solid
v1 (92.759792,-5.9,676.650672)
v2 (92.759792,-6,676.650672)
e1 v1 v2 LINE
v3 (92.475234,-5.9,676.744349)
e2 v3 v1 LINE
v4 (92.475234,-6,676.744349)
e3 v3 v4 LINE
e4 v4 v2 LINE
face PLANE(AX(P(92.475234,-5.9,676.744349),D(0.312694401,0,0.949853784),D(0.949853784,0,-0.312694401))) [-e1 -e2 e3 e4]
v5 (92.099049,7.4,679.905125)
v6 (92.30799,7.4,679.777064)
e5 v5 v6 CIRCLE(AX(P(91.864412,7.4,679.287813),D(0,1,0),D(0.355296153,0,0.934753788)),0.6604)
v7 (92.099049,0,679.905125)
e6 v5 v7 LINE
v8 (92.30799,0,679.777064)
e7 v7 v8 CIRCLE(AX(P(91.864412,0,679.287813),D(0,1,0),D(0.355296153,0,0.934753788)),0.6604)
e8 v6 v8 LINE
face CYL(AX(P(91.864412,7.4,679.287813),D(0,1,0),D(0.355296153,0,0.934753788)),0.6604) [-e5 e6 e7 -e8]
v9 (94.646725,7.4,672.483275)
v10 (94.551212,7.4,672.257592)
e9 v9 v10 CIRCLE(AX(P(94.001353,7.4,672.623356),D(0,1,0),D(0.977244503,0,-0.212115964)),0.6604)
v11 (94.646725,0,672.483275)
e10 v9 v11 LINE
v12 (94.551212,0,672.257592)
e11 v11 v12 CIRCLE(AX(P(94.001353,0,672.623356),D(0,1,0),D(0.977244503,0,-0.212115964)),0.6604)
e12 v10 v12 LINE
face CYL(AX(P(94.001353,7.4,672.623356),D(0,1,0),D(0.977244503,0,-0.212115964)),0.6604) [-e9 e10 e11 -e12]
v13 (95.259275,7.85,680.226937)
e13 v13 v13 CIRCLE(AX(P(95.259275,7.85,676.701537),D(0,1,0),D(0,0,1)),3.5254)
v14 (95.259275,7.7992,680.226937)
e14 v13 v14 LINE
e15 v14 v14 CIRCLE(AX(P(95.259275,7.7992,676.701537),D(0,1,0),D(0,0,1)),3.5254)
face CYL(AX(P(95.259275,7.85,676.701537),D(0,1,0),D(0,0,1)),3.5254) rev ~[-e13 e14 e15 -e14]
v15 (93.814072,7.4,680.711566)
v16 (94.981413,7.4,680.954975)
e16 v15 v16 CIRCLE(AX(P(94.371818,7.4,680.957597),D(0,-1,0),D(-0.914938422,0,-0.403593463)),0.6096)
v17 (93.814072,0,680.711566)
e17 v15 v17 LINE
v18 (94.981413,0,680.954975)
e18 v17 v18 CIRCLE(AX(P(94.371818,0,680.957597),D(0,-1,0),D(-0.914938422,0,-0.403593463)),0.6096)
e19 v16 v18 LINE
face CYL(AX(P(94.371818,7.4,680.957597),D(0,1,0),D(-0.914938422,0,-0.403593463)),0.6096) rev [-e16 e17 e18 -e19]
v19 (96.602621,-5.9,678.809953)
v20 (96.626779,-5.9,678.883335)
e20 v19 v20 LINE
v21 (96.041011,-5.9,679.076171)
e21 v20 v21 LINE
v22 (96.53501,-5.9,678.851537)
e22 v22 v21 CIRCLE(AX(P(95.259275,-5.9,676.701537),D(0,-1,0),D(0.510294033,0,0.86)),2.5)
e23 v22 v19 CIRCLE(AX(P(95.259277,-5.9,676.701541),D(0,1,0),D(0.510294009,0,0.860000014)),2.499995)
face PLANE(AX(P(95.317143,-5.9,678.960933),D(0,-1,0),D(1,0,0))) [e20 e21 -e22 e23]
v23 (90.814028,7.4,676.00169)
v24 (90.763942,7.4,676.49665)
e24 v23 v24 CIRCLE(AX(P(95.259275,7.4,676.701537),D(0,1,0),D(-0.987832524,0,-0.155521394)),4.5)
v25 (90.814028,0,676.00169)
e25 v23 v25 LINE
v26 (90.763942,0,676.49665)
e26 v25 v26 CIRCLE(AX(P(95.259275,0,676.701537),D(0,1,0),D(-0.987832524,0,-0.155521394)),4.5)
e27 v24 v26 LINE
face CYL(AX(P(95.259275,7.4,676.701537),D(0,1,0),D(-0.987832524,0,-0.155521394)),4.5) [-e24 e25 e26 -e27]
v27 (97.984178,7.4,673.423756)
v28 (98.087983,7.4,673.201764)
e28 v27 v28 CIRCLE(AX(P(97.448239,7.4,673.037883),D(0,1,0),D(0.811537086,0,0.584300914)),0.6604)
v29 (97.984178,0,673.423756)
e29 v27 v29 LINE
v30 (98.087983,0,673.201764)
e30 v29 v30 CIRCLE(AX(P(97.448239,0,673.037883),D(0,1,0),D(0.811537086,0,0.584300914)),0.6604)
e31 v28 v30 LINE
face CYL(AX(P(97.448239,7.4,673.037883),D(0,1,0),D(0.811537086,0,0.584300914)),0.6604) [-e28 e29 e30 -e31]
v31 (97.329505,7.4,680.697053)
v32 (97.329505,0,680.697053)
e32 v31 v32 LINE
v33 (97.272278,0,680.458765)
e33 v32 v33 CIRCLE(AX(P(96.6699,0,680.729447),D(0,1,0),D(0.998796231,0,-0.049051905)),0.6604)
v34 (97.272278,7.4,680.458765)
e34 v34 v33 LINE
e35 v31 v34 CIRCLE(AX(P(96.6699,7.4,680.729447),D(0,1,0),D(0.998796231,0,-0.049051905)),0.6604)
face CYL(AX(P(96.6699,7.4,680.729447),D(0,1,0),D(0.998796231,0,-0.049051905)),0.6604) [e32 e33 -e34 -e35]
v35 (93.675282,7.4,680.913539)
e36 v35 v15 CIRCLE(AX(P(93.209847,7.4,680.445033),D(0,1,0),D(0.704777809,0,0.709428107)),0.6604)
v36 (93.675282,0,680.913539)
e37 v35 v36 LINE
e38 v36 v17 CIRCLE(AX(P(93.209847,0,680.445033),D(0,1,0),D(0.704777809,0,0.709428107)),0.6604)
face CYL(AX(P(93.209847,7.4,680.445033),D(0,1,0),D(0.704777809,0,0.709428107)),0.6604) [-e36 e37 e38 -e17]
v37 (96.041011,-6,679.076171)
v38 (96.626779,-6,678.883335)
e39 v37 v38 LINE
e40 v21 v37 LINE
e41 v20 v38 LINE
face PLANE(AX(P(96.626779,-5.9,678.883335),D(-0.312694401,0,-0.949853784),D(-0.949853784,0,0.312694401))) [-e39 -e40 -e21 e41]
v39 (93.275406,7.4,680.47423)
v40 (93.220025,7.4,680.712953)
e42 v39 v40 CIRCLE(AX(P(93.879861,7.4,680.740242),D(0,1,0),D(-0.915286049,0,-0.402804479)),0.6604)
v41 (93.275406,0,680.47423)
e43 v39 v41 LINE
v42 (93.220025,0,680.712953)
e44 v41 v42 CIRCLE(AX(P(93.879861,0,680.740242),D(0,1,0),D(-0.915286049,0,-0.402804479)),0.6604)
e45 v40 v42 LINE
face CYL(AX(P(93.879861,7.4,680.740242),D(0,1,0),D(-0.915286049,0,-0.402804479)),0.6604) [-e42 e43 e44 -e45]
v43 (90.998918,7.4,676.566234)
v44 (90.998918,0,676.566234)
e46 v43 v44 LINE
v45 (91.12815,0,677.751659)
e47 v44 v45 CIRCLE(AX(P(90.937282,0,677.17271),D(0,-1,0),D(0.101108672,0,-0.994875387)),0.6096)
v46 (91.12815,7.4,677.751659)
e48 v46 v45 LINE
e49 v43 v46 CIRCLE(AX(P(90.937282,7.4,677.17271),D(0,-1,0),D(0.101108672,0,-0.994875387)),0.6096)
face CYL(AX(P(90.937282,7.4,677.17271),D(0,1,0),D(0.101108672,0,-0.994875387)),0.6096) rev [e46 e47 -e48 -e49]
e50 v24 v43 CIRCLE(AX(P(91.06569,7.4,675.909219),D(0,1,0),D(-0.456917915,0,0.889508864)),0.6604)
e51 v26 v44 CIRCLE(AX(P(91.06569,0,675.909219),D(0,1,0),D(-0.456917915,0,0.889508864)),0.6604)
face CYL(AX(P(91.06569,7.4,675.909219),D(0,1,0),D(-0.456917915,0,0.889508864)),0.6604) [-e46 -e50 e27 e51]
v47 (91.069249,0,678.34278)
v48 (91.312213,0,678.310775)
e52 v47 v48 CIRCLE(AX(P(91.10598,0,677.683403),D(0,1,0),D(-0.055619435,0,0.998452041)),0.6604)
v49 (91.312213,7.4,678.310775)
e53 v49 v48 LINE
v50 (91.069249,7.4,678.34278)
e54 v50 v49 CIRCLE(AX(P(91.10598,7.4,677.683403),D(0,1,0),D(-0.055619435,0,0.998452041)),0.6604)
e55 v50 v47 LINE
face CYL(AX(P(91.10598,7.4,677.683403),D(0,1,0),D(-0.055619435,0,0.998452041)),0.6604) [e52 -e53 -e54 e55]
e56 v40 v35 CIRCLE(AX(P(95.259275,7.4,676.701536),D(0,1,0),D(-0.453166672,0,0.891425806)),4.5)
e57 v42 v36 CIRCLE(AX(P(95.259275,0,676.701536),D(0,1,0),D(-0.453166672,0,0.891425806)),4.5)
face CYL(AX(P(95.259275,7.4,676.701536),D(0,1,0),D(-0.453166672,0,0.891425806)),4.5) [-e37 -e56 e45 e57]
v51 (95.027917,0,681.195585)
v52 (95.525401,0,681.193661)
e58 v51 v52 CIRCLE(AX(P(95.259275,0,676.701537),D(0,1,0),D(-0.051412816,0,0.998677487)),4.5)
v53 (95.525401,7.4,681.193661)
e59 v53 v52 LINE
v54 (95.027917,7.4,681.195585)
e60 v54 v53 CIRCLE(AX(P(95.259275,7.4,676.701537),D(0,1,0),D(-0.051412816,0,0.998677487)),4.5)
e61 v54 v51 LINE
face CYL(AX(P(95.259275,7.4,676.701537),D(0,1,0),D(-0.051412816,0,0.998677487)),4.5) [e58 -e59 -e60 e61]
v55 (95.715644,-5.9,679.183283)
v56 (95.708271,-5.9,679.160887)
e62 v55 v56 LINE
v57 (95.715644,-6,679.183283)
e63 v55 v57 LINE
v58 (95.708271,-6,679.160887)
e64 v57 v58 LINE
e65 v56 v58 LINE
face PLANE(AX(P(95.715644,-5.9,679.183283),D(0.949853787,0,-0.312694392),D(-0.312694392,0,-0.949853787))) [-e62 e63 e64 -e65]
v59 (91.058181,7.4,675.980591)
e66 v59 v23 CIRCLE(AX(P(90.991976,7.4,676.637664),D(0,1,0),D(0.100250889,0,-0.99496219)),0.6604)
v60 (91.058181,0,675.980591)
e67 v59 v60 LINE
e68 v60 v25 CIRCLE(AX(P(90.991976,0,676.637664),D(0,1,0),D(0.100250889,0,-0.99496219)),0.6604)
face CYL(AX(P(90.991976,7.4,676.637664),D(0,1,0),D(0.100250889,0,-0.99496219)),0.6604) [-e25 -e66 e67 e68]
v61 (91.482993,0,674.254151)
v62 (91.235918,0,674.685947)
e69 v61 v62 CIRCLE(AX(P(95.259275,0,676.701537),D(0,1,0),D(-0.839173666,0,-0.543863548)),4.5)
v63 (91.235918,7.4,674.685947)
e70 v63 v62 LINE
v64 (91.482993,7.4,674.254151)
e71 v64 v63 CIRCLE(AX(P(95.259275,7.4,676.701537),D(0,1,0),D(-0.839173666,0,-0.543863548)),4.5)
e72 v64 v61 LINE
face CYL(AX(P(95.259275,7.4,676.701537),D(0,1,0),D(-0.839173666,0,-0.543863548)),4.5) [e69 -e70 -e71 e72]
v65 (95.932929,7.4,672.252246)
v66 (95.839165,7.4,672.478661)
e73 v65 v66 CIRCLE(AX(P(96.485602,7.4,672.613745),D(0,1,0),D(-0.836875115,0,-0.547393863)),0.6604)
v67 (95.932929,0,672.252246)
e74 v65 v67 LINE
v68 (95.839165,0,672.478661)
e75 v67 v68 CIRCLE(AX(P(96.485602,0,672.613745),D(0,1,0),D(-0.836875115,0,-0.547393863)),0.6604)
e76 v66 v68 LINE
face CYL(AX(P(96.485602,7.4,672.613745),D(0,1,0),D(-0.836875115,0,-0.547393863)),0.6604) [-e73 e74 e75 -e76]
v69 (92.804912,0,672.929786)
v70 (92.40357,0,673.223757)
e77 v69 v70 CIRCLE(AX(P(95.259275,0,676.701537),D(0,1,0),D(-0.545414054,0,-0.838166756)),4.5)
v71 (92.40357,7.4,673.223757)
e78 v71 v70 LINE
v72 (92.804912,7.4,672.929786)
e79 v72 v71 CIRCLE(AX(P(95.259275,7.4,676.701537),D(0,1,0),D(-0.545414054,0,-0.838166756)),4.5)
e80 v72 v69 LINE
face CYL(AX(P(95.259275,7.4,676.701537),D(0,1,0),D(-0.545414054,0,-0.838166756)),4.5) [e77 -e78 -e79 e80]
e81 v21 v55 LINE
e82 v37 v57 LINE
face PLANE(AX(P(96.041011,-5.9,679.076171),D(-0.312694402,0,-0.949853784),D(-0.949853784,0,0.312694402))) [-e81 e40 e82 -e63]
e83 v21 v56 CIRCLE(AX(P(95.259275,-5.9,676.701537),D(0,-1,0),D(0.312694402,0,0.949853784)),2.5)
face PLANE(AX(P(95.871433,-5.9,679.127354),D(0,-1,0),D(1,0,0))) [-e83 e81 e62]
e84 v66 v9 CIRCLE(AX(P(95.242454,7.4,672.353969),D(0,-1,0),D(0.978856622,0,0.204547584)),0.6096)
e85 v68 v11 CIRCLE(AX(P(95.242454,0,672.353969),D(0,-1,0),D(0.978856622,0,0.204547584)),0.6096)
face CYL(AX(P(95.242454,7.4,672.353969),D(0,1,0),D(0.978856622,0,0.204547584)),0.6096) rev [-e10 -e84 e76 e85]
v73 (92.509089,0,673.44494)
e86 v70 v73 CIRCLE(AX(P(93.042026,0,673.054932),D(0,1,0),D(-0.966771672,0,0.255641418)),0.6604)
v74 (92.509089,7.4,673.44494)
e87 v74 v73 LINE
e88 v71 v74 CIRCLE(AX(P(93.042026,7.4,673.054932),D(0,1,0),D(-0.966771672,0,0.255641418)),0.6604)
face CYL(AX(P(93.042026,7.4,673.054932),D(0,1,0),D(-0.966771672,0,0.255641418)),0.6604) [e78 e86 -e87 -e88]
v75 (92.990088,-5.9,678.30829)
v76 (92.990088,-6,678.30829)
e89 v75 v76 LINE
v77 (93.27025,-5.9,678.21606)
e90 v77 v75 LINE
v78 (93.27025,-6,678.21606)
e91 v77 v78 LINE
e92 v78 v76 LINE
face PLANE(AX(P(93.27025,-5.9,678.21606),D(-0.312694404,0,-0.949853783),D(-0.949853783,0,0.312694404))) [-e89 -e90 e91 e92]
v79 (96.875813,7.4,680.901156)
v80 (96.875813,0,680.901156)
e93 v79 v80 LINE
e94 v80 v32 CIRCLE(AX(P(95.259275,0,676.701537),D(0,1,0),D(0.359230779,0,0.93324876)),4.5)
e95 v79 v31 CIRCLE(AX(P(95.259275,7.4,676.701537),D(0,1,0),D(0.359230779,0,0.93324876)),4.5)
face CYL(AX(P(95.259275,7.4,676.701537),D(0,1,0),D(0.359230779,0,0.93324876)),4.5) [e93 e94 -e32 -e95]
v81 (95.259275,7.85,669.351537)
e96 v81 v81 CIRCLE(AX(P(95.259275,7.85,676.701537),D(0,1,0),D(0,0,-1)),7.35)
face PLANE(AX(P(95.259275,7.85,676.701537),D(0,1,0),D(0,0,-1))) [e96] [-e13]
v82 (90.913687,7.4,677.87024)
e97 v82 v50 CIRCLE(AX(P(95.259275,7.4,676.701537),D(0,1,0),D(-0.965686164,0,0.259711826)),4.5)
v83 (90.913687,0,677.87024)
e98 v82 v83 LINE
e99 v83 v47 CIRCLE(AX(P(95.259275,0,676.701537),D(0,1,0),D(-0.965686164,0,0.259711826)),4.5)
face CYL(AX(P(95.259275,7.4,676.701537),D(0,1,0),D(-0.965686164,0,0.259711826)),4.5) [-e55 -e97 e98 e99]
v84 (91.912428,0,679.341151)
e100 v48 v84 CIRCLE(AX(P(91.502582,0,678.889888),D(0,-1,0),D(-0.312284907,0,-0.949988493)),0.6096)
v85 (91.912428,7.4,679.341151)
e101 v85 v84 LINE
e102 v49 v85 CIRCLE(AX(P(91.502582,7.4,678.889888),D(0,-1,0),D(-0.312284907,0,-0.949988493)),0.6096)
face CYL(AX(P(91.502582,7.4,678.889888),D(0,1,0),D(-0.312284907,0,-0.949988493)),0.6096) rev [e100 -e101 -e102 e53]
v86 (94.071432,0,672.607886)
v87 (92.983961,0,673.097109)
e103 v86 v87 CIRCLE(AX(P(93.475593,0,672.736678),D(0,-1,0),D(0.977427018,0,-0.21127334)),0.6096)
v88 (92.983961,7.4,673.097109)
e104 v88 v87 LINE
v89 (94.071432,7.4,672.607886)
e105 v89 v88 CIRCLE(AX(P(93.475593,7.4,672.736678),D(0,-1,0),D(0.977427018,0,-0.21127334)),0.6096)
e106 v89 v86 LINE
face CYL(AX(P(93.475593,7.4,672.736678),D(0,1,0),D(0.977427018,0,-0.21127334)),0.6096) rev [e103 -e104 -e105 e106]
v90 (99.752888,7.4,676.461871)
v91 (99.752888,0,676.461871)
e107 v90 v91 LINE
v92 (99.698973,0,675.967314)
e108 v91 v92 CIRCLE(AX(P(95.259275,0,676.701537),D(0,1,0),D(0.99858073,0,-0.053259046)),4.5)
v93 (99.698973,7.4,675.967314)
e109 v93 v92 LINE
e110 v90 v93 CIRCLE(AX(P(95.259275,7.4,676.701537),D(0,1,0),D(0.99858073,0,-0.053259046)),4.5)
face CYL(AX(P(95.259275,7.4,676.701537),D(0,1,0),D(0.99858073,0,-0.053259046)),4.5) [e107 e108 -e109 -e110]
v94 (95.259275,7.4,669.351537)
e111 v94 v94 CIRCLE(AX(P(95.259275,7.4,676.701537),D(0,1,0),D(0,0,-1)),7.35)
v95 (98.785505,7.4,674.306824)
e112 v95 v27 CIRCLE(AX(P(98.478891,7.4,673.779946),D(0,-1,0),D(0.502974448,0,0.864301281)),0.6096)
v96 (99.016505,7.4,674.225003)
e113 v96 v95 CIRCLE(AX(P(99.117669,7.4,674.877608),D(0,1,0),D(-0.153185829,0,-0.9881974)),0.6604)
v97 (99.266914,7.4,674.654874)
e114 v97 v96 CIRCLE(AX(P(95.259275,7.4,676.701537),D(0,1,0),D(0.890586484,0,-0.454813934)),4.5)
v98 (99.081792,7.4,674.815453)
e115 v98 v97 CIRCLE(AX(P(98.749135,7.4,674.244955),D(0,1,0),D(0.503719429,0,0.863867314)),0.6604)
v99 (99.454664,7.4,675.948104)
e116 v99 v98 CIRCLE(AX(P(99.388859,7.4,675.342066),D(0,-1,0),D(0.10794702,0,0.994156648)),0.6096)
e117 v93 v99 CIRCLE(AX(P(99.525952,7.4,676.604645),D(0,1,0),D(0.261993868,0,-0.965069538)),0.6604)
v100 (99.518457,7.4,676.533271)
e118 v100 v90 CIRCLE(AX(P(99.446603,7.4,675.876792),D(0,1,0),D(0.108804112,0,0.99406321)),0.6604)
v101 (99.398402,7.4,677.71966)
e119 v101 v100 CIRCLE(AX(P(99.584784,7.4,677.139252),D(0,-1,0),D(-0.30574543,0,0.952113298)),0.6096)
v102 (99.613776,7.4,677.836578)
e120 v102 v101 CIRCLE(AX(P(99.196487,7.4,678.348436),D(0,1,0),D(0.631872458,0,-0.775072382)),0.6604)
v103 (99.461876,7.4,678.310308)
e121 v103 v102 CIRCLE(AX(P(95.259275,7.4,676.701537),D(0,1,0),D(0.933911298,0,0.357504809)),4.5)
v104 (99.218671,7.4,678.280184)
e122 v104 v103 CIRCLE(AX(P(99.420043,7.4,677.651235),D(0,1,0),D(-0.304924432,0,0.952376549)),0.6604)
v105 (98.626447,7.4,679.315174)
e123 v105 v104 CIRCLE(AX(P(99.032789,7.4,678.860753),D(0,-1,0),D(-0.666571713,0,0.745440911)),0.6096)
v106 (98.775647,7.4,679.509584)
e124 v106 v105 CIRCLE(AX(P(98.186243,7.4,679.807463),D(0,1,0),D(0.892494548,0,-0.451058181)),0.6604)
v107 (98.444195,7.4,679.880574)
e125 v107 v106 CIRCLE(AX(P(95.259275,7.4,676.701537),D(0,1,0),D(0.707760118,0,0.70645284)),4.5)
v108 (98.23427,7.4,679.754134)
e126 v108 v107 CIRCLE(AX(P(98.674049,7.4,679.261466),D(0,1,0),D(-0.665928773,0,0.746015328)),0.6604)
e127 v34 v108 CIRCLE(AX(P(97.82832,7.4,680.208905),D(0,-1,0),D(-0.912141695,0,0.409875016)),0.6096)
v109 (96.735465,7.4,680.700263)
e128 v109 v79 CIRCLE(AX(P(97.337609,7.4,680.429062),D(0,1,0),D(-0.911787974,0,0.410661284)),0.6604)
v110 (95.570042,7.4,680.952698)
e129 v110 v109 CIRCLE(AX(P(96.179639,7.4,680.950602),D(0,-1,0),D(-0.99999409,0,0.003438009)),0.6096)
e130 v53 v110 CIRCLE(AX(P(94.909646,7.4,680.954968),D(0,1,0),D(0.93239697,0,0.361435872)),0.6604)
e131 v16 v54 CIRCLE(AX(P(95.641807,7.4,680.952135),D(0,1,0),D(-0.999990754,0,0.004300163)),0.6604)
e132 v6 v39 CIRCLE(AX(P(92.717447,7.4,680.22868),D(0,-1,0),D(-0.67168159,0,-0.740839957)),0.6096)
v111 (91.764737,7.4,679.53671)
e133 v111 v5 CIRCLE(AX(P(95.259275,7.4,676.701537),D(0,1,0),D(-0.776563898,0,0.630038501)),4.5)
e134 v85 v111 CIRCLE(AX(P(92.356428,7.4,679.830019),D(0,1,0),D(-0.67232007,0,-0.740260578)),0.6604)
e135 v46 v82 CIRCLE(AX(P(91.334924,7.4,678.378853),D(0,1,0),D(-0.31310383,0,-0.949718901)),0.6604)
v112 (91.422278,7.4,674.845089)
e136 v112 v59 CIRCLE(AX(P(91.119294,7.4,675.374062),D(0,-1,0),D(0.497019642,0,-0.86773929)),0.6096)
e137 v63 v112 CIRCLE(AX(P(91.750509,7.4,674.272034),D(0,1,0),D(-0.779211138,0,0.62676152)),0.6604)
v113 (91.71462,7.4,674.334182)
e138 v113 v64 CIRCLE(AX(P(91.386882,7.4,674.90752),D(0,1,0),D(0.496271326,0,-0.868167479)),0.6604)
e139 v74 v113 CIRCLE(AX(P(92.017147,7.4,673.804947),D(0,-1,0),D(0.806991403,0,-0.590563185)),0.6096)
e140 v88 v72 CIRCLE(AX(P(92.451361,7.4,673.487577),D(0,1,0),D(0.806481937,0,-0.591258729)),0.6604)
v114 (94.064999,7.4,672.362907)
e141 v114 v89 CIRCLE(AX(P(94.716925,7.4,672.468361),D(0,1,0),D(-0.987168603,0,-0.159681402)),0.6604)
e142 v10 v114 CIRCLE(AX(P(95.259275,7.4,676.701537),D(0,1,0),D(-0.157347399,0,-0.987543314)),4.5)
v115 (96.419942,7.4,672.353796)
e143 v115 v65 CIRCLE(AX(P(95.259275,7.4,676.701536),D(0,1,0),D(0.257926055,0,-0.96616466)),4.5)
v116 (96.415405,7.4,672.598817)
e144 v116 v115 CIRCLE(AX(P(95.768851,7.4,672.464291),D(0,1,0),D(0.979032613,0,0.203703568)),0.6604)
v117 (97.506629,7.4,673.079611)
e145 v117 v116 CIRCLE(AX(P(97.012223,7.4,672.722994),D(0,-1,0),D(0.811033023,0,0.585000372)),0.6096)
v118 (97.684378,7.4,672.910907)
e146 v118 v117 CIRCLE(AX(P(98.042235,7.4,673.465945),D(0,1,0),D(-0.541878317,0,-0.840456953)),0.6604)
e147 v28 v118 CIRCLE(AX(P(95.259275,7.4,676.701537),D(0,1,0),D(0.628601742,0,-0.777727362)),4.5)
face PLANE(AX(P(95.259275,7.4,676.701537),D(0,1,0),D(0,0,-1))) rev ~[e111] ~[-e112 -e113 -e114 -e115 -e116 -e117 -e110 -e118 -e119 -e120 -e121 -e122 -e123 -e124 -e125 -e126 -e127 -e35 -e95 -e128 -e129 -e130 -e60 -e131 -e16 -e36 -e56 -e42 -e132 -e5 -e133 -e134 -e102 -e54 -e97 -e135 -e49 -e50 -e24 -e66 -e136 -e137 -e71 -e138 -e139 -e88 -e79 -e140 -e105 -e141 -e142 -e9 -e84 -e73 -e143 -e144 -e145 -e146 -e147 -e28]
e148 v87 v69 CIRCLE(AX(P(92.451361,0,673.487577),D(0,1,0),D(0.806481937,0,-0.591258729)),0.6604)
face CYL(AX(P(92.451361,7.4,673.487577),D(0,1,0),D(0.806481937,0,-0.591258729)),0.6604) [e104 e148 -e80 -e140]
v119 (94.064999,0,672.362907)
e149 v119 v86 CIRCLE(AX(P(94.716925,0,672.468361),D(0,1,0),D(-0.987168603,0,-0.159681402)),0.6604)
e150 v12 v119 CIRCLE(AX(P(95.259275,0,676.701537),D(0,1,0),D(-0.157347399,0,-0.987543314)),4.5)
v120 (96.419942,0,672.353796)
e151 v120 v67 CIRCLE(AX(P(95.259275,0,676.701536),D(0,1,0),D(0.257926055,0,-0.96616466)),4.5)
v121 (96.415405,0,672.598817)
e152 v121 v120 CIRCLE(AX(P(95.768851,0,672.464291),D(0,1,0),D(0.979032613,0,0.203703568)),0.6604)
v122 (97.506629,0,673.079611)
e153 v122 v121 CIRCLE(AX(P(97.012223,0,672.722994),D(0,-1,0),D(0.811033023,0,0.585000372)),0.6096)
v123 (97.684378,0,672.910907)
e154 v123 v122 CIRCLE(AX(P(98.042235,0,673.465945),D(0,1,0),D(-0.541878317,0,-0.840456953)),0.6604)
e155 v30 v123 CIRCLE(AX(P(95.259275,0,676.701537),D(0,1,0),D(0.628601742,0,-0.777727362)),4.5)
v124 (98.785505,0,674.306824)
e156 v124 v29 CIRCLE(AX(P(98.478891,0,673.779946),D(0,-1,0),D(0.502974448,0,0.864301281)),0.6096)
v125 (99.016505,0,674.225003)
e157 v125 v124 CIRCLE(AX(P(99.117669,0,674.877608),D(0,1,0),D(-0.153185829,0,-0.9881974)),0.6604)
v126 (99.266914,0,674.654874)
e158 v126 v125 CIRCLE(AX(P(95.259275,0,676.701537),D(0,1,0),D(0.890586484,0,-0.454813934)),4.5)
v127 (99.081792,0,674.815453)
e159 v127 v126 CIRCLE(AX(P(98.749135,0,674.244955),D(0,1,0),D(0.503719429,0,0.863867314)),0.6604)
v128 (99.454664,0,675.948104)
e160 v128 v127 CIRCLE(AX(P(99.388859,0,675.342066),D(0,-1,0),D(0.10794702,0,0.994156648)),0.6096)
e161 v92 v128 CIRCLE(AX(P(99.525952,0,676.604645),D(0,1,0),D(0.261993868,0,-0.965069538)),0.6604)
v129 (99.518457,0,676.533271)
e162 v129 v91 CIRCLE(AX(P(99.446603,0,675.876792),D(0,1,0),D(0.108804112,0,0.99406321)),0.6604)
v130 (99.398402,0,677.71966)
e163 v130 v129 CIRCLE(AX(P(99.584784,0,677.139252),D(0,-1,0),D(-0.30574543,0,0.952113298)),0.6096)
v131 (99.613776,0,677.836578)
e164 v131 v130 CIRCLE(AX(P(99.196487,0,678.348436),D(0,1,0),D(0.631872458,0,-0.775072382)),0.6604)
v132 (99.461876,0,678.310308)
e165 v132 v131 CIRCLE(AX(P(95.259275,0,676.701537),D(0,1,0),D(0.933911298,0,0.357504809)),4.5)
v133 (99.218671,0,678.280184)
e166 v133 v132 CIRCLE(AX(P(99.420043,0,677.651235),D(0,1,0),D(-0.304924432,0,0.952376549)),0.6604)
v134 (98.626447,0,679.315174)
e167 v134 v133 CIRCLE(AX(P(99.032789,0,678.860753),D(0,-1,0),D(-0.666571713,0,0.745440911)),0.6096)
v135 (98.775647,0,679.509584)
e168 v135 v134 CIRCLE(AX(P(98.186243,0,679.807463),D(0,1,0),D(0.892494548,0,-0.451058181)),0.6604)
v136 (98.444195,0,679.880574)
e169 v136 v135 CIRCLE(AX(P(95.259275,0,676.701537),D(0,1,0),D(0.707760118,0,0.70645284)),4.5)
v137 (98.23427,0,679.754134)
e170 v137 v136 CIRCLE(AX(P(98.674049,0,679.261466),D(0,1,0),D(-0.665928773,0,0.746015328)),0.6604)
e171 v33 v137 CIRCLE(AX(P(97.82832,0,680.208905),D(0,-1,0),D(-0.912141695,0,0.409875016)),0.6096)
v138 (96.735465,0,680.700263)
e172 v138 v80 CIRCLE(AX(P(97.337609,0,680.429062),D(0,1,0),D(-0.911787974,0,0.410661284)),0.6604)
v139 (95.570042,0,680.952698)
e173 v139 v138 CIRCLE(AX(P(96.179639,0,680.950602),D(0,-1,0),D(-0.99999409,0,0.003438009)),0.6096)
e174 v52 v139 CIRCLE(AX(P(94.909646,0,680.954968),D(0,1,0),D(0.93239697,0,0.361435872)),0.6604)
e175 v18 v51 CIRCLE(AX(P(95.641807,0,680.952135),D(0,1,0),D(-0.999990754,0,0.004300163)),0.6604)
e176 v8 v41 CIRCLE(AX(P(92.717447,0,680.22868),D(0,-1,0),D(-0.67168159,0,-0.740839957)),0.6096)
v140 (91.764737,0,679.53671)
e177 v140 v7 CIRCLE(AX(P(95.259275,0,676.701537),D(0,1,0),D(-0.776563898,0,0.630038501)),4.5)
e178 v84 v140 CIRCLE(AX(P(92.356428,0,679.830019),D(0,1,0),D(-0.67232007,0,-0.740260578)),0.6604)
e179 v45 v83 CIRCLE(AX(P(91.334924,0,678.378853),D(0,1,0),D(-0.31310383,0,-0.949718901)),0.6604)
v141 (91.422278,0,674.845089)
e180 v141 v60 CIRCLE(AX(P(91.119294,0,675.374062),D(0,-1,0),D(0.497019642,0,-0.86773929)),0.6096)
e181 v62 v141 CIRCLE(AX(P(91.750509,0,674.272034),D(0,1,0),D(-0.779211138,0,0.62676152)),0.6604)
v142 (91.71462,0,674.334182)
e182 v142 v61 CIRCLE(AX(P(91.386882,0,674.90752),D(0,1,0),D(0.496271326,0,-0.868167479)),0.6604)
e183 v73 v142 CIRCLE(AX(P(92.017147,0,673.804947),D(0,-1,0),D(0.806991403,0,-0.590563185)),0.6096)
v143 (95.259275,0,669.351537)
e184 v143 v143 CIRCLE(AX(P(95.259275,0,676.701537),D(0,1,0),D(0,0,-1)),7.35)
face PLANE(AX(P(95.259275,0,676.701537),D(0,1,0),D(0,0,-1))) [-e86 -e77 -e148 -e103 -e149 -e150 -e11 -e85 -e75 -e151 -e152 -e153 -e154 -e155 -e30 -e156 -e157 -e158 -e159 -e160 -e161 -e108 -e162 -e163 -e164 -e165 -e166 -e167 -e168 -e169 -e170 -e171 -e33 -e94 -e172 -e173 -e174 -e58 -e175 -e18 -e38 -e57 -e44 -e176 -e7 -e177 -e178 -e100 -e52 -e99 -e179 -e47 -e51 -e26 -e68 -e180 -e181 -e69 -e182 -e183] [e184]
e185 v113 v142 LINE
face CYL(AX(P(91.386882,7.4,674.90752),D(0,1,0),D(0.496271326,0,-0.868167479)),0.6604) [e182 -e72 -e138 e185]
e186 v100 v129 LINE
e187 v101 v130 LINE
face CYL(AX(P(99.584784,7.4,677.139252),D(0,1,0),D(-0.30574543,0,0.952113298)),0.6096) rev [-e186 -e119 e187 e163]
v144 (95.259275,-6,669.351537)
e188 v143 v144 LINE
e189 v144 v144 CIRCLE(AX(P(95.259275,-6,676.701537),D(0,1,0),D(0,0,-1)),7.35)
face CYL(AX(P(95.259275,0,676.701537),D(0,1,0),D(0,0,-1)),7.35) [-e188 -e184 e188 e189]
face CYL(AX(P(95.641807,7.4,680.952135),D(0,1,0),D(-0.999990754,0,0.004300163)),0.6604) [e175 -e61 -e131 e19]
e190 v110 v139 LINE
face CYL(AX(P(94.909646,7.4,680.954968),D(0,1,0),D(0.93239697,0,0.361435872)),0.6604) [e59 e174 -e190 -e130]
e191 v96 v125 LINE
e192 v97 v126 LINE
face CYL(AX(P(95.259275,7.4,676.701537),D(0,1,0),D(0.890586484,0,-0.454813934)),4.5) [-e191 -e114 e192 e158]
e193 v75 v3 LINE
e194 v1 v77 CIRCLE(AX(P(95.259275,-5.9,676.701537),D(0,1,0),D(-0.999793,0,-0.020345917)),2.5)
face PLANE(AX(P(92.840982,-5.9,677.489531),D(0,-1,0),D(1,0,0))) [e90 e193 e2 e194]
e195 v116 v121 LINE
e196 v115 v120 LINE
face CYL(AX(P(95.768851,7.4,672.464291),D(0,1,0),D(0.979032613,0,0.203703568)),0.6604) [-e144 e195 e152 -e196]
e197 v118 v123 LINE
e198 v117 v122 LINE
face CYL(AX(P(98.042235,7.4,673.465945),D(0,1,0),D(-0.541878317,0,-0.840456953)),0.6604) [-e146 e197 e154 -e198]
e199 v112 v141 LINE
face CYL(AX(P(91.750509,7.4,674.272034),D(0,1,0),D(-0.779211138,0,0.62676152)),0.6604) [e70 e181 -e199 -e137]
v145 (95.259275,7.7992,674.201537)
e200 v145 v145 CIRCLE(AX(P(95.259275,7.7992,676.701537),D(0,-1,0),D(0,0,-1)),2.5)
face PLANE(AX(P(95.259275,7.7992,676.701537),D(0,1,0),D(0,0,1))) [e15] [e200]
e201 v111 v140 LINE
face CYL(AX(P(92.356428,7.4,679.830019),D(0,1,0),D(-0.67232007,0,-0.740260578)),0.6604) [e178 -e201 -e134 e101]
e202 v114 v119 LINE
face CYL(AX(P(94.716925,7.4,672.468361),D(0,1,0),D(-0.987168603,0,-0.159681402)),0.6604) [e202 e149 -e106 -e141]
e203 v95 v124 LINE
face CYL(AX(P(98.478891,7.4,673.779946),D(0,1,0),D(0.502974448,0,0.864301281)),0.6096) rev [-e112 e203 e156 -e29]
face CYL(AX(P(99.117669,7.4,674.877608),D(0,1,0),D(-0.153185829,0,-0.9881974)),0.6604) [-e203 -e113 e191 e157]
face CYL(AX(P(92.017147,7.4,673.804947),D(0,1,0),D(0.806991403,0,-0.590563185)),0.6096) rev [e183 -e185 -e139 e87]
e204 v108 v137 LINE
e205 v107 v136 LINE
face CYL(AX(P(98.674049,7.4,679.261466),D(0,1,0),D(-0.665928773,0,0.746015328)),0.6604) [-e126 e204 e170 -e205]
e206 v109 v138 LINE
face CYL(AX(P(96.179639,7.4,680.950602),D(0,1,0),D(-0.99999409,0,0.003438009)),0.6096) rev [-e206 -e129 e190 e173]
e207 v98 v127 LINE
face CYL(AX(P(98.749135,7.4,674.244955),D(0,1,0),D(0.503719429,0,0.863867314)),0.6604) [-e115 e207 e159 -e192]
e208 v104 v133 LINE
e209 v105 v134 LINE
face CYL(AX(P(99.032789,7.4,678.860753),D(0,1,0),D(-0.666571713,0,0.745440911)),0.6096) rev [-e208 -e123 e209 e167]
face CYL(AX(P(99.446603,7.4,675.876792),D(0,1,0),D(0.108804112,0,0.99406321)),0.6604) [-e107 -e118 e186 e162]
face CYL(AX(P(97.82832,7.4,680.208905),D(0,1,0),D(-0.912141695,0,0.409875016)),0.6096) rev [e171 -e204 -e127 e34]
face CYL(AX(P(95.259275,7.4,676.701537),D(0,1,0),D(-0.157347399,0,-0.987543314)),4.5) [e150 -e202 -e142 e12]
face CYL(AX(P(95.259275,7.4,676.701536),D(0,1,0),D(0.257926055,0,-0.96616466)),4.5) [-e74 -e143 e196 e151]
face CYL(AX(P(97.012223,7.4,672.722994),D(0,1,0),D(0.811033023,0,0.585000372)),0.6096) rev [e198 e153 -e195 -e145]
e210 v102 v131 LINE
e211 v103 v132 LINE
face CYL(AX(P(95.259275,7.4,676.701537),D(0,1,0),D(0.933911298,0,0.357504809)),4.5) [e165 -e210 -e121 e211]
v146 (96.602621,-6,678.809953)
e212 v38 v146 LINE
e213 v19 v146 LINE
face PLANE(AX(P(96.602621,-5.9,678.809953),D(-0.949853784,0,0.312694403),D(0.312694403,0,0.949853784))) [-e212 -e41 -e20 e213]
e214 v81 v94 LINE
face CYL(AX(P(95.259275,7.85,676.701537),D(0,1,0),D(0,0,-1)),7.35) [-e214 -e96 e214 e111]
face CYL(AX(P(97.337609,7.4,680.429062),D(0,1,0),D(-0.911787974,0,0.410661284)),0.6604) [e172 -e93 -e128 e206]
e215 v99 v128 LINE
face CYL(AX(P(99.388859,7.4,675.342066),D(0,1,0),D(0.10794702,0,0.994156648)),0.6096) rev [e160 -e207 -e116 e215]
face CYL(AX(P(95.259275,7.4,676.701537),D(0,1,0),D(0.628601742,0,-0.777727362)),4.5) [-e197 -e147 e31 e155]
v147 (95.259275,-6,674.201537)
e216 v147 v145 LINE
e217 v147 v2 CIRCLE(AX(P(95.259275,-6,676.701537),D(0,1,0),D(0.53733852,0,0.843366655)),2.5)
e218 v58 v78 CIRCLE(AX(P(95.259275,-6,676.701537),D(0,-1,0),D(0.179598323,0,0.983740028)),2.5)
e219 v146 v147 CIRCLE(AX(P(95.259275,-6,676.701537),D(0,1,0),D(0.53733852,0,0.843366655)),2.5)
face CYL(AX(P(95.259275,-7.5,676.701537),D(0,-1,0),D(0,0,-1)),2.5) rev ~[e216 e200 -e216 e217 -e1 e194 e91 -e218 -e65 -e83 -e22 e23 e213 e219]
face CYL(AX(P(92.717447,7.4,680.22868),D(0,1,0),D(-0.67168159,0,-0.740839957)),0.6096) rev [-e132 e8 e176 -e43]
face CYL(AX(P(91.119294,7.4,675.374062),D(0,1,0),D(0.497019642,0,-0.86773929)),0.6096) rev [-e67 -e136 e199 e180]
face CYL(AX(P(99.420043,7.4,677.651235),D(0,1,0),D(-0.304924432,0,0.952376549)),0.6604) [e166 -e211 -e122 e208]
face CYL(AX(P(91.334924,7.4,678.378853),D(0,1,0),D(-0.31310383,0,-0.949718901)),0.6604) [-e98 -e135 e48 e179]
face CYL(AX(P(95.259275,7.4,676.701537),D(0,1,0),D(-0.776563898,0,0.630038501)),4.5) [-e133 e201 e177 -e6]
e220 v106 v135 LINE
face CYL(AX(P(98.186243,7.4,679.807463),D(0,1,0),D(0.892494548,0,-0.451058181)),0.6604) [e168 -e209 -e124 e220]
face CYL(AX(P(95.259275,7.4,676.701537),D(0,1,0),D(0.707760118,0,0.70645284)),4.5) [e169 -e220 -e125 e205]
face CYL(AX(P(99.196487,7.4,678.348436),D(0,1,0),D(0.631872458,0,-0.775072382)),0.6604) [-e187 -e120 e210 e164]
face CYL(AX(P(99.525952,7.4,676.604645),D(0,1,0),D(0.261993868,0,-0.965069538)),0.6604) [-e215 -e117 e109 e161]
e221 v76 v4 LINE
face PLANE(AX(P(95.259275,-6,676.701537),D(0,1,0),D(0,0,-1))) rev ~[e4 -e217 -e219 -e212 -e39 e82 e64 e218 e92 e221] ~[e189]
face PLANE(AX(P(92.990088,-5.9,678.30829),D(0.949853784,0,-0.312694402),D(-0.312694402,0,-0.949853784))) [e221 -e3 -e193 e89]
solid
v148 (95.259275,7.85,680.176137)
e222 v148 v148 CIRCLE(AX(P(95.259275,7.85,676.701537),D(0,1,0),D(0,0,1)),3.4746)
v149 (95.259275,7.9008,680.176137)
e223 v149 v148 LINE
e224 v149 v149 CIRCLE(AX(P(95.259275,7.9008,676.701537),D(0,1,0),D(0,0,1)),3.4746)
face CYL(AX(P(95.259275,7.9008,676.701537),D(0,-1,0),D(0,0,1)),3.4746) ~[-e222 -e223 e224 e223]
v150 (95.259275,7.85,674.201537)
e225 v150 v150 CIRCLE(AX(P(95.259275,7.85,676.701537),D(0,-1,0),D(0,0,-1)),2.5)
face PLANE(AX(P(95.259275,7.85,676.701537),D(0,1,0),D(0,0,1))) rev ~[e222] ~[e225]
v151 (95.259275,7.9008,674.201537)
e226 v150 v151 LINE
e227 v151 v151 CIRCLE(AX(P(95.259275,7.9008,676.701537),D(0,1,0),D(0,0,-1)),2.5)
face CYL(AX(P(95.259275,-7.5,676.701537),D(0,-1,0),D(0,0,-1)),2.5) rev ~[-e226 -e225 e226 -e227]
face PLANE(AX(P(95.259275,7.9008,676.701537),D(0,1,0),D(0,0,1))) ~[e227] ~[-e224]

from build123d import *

# Parameters (mm, degrees)
BOSS_EXTRUDE1_DEPTH = 7.4
SKETCH2_R           = 7.35
BOSS_EXTRUDE2_DEPTH = 6
BOSS_EXTRUDE3_DEPTH = 1.5
CUT_EXTRUDE1_START  = -0.1
CUT_EXTRUDE1_DEPTH  = 0.1
CUT_EXTRUDE2_START  = -1.6
CUT_EXTRUDE2_DEPTH  = 1.6
CUT_EXTRUDE3_START  = -13.4
CUT_EXTRUDE3_DEPTH  = 13.4
CUT_EXTRUDE4_START  = -0.1
CUT_EXTRUDE4_DEPTH  = 0.1
BOSS_EXTRUDE4_START = 0.45
SKETCH8_R           = 7.35
BOSS_EXTRUDE4_DEPTH = 0.45
SKETCH9_R           = 3.5254
CUT_EXTRUDE5_DEPTH  = 0.0508
SKETCH13_R          = 2.5
CUT_EXTRUDE6_DEPTH  = 692.982195909


with BuildPart() as part:
    # Sketch1 → Boss-Extrude1 (new body)
    with BuildSketch(Plane.XZ.offset(-7.4)):
        with BuildLine():
            ThreePointArc((91.128150208, 677.751658944), (91.015370064, 677.800914334), (90.913687093, 677.870239853))
            ThreePointArc((90.913687093, 677.870239853), (90.984932811, 678.108661471), (91.069248689, 678.342780358))
            ThreePointArc((91.069248689, 678.342780358), (91.192228282, 678.338146361), (91.312212717, 678.310775031))
            ThreePointArc((91.312212717, 678.310775031), (92.029327433, 678.583047694), (91.912427908, 679.341150867))
            ThreePointArc((91.912427908, 679.341150867), (91.829432093, 679.432019722), (91.764737305, 679.536709925))
            ThreePointArc((91.764737305, 679.536709925), (91.926798315, 679.725540668), (92.099049433, 679.905124556))
            ThreePointArc((92.099049433, 679.905124556), (92.209512065, 679.850870882), (92.307990377, 679.777063862))
            ThreePointArc((92.307990377, 679.777063862), (93.073850539, 679.734120484), (93.275405848, 680.474229514))
            ThreePointArc((93.275405848, 680.474229514), (93.236545091, 680.590999784), (93.220024803, 680.712952784))
            ThreePointArc((93.220024803, 680.712952784), (93.444879286, 680.8195421), (93.67528186, 680.913539304))
            ThreePointArc((93.67528186, 680.913539304), (93.754127538, 680.819046906), (93.814071933, 680.7115661))
            ThreePointArc((93.814071933, 680.7115661), (94.496253359, 680.360831981), (94.981412759, 680.954975294))
            ThreePointArc((94.981412759, 680.954975294), (94.993406438, 681.077456337), (95.027917159, 681.195585353))
            ThreePointArc((95.027917159, 681.195585353), (95.27668573, 681.201502981), (95.525401062, 681.19366053))
            ThreePointArc((95.525401062, 681.19366053), (95.558996653, 681.075268003), (95.570042201, 680.952697819))
            ThreePointArc((95.570042201, 680.952697819), (96.050589526, 680.354818074), (96.735464548, 680.700262893))
            ThreePointArc((96.735464548, 680.700262893), (96.796238848, 680.807276625), (96.875813359, 680.901156076))
            ThreePointArc((96.875813359, 680.901156076), (97.105481674, 680.805378805), (97.329504623, 680.69705273))
            ThreePointArc((97.329504623, 680.69705273), (97.312041144, 680.575231217), (97.272277968, 680.458765153))
            ThreePointArc((97.272277968, 680.458765153), (97.468100194, 679.717118622), (98.234269726, 679.7541344))
            ThreePointArc((98.234269726, 679.7541344), (98.333316217, 679.827177174), (98.444195363, 679.880574451))
            ThreePointArc((98.444195363, 679.880574451), (98.615051683, 679.69966304), (98.775646647, 679.509583904))
            ThreePointArc((98.775646647, 679.509583904), (98.710143691, 679.405397451), (98.626447207, 679.315173548))
            ThreePointArc((98.626447207, 679.315173548), (98.503684891, 678.557997654), (99.218671261, 678.280184026))
            ThreePointArc((99.218671261, 678.280184026), (99.338863905, 678.306626083), (99.461875675, 678.310308312))
            ThreePointArc((99.461875675, 678.310308312), (99.54437739, 678.075543988), (99.61377604, 677.8365782))
            ThreePointArc((99.61377604, 677.8365782), (99.511559664, 677.768041591), (99.398401753, 677.719660382))
            ThreePointArc((99.398401753, 677.719660382), (98.978281617, 677.077877715), (99.518457184, 676.533271182))
            ThreePointArc((99.518457184, 676.533271182), (99.639013582, 676.50854045), (99.752888122, 676.461870939))
            ThreePointArc((99.752888122, 676.461870939), (99.732769937, 676.213846587), (99.698972616, 675.967313503))
            ThreePointArc((99.698972616, 675.967313503), (99.57771696, 675.946277341), (99.454663654, 675.948104375))
            ThreePointArc((99.454663654, 675.948104375), (98.809828284, 675.53268499), (99.081791786, 674.815452968))
            ThreePointArc((99.081791786, 674.815452968), (99.181866641, 674.743825616), (99.26691401, 674.654873947))
            ThreePointArc((99.26691401, 674.654873947), (99.147654541, 674.43647523), (99.016505113, 674.22500266))
            ThreePointArc((99.016505113, 674.22500266), (98.897176381, 674.255104288), (98.785504714, 674.306823656))
            ThreePointArc((98.785504714, 674.306823656), (98.027452004, 674.189597337), (97.984178482, 673.423755759))
            ThreePointArc((97.984178482, 673.423755759), (98.046467943, 673.317616806), (98.087982677, 673.201763533))
            ThreePointArc((98.087982677, 673.201763533), (97.890202969, 673.050753573), (97.684378362, 672.910907045))
            ThreePointArc((97.684378362, 672.910907045), (97.587609576, 672.986941619), (97.506628594, 673.079610571))
            ThreePointArc((97.506628594, 673.079610571), (96.766432745, 673.280846814), (96.415404583, 672.598816647))
            ThreePointArc((96.415404583, 672.598816647), (96.429138235, 672.476518482), (96.41994206, 672.353795687))
            ThreePointArc((96.41994206, 672.353795687), (96.177840023, 672.296285478), (95.93292918, 672.252245728))
            ThreePointArc((95.93292918, 672.252245728), (95.875452543, 672.361066178), (95.839164593, 672.478661412))
            ThreePointArc((95.839164593, 672.478661412), (95.244812192, 672.963564642), (94.646725348, 672.483275097))
            ThreePointArc((94.646725348, 672.483275097), (94.609528519, 672.365964185), (94.551211537, 672.257591754))
            ThreePointArc((94.551211537, 672.257591754), (94.306648812, 672.303525334), (94.064999043, 672.362907234))
            ThreePointArc((94.064999043, 672.362907234), (94.056752787, 672.485697517), (94.071432386, 672.607885747))
            ThreePointArc((94.071432386, 672.607885747), (93.725692361, 673.292611791), (92.983961485, 673.097109294))
            ThreePointArc((92.983961485, 673.097109294), (92.902265844, 673.005069757), (92.804911591, 672.929786268))
            ThreePointArc((92.804911591, 672.929786268), (92.600175295, 673.071221303), (92.403570041, 673.223757184))
            ThreePointArc((92.403570041, 673.223757184), (92.445980018, 673.339285743), (92.50908893, 673.444939515))
            ThreePointArc((92.50908893, 673.444939515), (92.471742874, 674.21109302), (91.714619971, 674.334181729))
            ThreePointArc((91.714619971, 674.334181729), (91.602551437, 674.283328038), (91.482993348, 674.25415069))
            ThreePointArc((91.482993348, 674.25415069), (91.353484246, 674.466631779), (91.235918342, 674.6859468))
            ThreePointArc((91.235918342, 674.6859468), (91.321651482, 674.774237699), (91.422277602, 674.845088516))
            ThreePointArc((91.422277602, 674.845088516), (91.699782987, 675.560194579), (91.058181486, 675.980591338))
            ThreePointArc((91.058181486, 675.980591338), (90.935117726, 675.979716559), (90.814028481, 676.001690381))
            ThreePointArc((90.814028481, 676.001690381), (90.782139874, 676.248477612), (90.763941532, 676.496650215))
            ThreePointArc((90.763941532, 676.496650215), (90.878173797, 676.542437155), (90.998917955, 676.566234267))
            ThreePointArc((90.998917955, 676.566234267), (91.543291578, 677.106644554), (91.128150208, 677.751658944))
        make_face()
    extrude(amount=BOSS_EXTRUDE1_DEPTH)

    # Sketch2 → Boss-Extrude2 (add)
    with BuildSketch(Plane(origin=(0, 0, 0), x_dir=(1, 0, 0), z_dir=(0, 1, 0))):
        with Locations(Location((95.259274839, -676.701536663, 0), (0, 0, 90))):
            Circle(SKETCH2_R)
    extrude(amount=-BOSS_EXTRUDE2_DEPTH)

    # Sketch3 → Boss-Extrude3 (add)
    with BuildSketch(Plane.XZ.offset(6)):
        with BuildLine():
            Line((96.041010843, 679.076171124), (96.626778532, 678.883334837))
            Line((96.626778532, 678.883334837), (96.602621135, 678.809953303))
            ThreePointArc((96.602621135, 678.809953303), (94.188428595, 674.442490776), (96.041010843, 679.076171124))
        make_face()
    extrude(amount=BOSS_EXTRUDE3_DEPTH)

    # Sketch4 → Cut-Extrude1 (cut)
    with BuildSketch(Plane.XZ.offset(6).offset(CUT_EXTRUDE1_START)):
        with BuildLine():
            Line((93.270250047, 678.216059815), (92.990087847, 678.30828996))
            Line((92.990087847, 678.30828996), (92.475234347, 676.744349121))
            Line((92.475234347, 676.744349121), (92.759792338, 676.650671871))
            ThreePointArc((92.759792338, 676.650671871), (92.882452531, 677.476595188), (93.270250047, 678.216059815))
        make_face()
    extrude(amount=CUT_EXTRUDE1_DEPTH, mode=Mode.SUBTRACT)

    # Sketch5 → Cut-Extrude2 (cut)
    with BuildSketch(Plane.XZ.offset(7.5).offset(CUT_EXTRUDE2_START)):
        with BuildLine():
            Line((96.602621135, 678.809953303), (96.626778532, 678.883334837))
            Line((96.626778532, 678.883334837), (96.041010843, 679.076171124))
            ThreePointArc((96.041010843, 679.076171124), (94.987937535, 679.186768256), (93.983539757, 678.851536663))
            Line((93.983539757, 678.851536663), (96.535009921, 678.851536663))
            ThreePointArc((96.535009921, 678.851536663), (96.568980573, 678.831013334), (96.602621135, 678.809953303))
        make_face()
    extrude(amount=CUT_EXTRUDE2_DEPTH, mode=Mode.SUBTRACT)

    # Sketch6 → Cut-Extrude3 (cut)
    with BuildSketch(Plane.XZ.offset(5.9).offset(CUT_EXTRUDE3_START)):
        with BuildLine():
            Line((93.983539757, 678.851536663), (96.535009921, 678.851536663))
            ThreePointArc((96.535009921, 678.851536663), (95.259274839, 679.201536663), (93.983539757, 678.851536663))
        make_face()
    extrude(amount=CUT_EXTRUDE3_DEPTH, mode=Mode.SUBTRACT)

    # Sketch7 → Cut-Extrude4 (cut)
    with BuildSketch(Plane.XZ.offset(6).offset(CUT_EXTRUDE4_START)):
        with BuildLine():
            Line((96.041010843, 679.076171124), (95.715643525, 679.183282914))
            Line((95.715643525, 679.183282914), (95.708270643, 679.160886734))
            ThreePointArc((95.708270643, 679.160886734), (95.876096839, 679.124248083), (96.041010843, 679.076171124))
        make_face()
    extrude(amount=CUT_EXTRUDE4_DEPTH, mode=Mode.SUBTRACT)

    # Sketch8 → Boss-Extrude4 (add)
    with BuildSketch(Plane(origin=(0, 7.4, 0), x_dir=(-1, 0, 0), z_dir=(0, 1, 0)).offset(BOSS_EXTRUDE4_START)):
        with Locations(Location((-95.259274839, 676.701536663, 0), (0, 0, 270))):
            Circle(SKETCH8_R)
    extrude(amount=-BOSS_EXTRUDE4_DEPTH)

    # Sketch9 → Cut-Extrude5 (cut)
    with BuildSketch(Plane(origin=(0, 7.85, 0), x_dir=(1, 0, 0), z_dir=(0, 1, 0))):
        with Locations(Location((95.259274839, -676.701536663, 0), (0, 0, 270))):
            Circle(SKETCH9_R)
    extrude(amount=-CUT_EXTRUDE5_DEPTH, mode=Mode.SUBTRACT)


with BuildPart() as body_2:
    # Sketch10 → Revolve1 (revolve)
    with BuildSketch(Plane(origin=(0, 0, 676.701536663), x_dir=(-1, 0, 0), z_dir=(0, 0, -1)), mode=Mode.PRIVATE) as revolve1_sk:
        Polygon((-98.733874839, 7.85), (-95.259274839, 7.85), (-95.259274839, 12.1008), (-97.759274839, 12.1008), (-97.759274839, 7.9008), (-98.733874839, 7.9008), align=None)
    revolve(revolve1_sk.sketch.rotate(Axis((95.259274839, 7.85, 676.701536663), (0, 1, 0)), 270), axis=Axis((95.259274839, 7.85, 676.701536663), (0, 1, 0)))


with BuildPart() as cut_extrude6_tool:
    # Sketch13 → Cut-Extrude6 (new, through all)
    with BuildSketch(Plane.XZ.offset(7.5)):
        with Locations(Location((95.259274839, 676.701536663, 0), (0, 0, 270))):
            Circle(SKETCH13_R)
    extrude(amount=-CUT_EXTRUDE6_DEPTH)


with BuildPart() as part_1:
    add(part.part)

    # Cut-Extrude6: cut by cut_extrude6_tool
    add(cut_extrude6_tool.part, mode=Mode.SUBTRACT)


with BuildPart() as body_2_1:
    add(body_2.part)

    # Cut-Extrude6: cut by cut_extrude6_tool
    add(cut_extrude6_tool.part, mode=Mode.SUBTRACT)


solid = Compound([part_1.part, body_2_1.part])
